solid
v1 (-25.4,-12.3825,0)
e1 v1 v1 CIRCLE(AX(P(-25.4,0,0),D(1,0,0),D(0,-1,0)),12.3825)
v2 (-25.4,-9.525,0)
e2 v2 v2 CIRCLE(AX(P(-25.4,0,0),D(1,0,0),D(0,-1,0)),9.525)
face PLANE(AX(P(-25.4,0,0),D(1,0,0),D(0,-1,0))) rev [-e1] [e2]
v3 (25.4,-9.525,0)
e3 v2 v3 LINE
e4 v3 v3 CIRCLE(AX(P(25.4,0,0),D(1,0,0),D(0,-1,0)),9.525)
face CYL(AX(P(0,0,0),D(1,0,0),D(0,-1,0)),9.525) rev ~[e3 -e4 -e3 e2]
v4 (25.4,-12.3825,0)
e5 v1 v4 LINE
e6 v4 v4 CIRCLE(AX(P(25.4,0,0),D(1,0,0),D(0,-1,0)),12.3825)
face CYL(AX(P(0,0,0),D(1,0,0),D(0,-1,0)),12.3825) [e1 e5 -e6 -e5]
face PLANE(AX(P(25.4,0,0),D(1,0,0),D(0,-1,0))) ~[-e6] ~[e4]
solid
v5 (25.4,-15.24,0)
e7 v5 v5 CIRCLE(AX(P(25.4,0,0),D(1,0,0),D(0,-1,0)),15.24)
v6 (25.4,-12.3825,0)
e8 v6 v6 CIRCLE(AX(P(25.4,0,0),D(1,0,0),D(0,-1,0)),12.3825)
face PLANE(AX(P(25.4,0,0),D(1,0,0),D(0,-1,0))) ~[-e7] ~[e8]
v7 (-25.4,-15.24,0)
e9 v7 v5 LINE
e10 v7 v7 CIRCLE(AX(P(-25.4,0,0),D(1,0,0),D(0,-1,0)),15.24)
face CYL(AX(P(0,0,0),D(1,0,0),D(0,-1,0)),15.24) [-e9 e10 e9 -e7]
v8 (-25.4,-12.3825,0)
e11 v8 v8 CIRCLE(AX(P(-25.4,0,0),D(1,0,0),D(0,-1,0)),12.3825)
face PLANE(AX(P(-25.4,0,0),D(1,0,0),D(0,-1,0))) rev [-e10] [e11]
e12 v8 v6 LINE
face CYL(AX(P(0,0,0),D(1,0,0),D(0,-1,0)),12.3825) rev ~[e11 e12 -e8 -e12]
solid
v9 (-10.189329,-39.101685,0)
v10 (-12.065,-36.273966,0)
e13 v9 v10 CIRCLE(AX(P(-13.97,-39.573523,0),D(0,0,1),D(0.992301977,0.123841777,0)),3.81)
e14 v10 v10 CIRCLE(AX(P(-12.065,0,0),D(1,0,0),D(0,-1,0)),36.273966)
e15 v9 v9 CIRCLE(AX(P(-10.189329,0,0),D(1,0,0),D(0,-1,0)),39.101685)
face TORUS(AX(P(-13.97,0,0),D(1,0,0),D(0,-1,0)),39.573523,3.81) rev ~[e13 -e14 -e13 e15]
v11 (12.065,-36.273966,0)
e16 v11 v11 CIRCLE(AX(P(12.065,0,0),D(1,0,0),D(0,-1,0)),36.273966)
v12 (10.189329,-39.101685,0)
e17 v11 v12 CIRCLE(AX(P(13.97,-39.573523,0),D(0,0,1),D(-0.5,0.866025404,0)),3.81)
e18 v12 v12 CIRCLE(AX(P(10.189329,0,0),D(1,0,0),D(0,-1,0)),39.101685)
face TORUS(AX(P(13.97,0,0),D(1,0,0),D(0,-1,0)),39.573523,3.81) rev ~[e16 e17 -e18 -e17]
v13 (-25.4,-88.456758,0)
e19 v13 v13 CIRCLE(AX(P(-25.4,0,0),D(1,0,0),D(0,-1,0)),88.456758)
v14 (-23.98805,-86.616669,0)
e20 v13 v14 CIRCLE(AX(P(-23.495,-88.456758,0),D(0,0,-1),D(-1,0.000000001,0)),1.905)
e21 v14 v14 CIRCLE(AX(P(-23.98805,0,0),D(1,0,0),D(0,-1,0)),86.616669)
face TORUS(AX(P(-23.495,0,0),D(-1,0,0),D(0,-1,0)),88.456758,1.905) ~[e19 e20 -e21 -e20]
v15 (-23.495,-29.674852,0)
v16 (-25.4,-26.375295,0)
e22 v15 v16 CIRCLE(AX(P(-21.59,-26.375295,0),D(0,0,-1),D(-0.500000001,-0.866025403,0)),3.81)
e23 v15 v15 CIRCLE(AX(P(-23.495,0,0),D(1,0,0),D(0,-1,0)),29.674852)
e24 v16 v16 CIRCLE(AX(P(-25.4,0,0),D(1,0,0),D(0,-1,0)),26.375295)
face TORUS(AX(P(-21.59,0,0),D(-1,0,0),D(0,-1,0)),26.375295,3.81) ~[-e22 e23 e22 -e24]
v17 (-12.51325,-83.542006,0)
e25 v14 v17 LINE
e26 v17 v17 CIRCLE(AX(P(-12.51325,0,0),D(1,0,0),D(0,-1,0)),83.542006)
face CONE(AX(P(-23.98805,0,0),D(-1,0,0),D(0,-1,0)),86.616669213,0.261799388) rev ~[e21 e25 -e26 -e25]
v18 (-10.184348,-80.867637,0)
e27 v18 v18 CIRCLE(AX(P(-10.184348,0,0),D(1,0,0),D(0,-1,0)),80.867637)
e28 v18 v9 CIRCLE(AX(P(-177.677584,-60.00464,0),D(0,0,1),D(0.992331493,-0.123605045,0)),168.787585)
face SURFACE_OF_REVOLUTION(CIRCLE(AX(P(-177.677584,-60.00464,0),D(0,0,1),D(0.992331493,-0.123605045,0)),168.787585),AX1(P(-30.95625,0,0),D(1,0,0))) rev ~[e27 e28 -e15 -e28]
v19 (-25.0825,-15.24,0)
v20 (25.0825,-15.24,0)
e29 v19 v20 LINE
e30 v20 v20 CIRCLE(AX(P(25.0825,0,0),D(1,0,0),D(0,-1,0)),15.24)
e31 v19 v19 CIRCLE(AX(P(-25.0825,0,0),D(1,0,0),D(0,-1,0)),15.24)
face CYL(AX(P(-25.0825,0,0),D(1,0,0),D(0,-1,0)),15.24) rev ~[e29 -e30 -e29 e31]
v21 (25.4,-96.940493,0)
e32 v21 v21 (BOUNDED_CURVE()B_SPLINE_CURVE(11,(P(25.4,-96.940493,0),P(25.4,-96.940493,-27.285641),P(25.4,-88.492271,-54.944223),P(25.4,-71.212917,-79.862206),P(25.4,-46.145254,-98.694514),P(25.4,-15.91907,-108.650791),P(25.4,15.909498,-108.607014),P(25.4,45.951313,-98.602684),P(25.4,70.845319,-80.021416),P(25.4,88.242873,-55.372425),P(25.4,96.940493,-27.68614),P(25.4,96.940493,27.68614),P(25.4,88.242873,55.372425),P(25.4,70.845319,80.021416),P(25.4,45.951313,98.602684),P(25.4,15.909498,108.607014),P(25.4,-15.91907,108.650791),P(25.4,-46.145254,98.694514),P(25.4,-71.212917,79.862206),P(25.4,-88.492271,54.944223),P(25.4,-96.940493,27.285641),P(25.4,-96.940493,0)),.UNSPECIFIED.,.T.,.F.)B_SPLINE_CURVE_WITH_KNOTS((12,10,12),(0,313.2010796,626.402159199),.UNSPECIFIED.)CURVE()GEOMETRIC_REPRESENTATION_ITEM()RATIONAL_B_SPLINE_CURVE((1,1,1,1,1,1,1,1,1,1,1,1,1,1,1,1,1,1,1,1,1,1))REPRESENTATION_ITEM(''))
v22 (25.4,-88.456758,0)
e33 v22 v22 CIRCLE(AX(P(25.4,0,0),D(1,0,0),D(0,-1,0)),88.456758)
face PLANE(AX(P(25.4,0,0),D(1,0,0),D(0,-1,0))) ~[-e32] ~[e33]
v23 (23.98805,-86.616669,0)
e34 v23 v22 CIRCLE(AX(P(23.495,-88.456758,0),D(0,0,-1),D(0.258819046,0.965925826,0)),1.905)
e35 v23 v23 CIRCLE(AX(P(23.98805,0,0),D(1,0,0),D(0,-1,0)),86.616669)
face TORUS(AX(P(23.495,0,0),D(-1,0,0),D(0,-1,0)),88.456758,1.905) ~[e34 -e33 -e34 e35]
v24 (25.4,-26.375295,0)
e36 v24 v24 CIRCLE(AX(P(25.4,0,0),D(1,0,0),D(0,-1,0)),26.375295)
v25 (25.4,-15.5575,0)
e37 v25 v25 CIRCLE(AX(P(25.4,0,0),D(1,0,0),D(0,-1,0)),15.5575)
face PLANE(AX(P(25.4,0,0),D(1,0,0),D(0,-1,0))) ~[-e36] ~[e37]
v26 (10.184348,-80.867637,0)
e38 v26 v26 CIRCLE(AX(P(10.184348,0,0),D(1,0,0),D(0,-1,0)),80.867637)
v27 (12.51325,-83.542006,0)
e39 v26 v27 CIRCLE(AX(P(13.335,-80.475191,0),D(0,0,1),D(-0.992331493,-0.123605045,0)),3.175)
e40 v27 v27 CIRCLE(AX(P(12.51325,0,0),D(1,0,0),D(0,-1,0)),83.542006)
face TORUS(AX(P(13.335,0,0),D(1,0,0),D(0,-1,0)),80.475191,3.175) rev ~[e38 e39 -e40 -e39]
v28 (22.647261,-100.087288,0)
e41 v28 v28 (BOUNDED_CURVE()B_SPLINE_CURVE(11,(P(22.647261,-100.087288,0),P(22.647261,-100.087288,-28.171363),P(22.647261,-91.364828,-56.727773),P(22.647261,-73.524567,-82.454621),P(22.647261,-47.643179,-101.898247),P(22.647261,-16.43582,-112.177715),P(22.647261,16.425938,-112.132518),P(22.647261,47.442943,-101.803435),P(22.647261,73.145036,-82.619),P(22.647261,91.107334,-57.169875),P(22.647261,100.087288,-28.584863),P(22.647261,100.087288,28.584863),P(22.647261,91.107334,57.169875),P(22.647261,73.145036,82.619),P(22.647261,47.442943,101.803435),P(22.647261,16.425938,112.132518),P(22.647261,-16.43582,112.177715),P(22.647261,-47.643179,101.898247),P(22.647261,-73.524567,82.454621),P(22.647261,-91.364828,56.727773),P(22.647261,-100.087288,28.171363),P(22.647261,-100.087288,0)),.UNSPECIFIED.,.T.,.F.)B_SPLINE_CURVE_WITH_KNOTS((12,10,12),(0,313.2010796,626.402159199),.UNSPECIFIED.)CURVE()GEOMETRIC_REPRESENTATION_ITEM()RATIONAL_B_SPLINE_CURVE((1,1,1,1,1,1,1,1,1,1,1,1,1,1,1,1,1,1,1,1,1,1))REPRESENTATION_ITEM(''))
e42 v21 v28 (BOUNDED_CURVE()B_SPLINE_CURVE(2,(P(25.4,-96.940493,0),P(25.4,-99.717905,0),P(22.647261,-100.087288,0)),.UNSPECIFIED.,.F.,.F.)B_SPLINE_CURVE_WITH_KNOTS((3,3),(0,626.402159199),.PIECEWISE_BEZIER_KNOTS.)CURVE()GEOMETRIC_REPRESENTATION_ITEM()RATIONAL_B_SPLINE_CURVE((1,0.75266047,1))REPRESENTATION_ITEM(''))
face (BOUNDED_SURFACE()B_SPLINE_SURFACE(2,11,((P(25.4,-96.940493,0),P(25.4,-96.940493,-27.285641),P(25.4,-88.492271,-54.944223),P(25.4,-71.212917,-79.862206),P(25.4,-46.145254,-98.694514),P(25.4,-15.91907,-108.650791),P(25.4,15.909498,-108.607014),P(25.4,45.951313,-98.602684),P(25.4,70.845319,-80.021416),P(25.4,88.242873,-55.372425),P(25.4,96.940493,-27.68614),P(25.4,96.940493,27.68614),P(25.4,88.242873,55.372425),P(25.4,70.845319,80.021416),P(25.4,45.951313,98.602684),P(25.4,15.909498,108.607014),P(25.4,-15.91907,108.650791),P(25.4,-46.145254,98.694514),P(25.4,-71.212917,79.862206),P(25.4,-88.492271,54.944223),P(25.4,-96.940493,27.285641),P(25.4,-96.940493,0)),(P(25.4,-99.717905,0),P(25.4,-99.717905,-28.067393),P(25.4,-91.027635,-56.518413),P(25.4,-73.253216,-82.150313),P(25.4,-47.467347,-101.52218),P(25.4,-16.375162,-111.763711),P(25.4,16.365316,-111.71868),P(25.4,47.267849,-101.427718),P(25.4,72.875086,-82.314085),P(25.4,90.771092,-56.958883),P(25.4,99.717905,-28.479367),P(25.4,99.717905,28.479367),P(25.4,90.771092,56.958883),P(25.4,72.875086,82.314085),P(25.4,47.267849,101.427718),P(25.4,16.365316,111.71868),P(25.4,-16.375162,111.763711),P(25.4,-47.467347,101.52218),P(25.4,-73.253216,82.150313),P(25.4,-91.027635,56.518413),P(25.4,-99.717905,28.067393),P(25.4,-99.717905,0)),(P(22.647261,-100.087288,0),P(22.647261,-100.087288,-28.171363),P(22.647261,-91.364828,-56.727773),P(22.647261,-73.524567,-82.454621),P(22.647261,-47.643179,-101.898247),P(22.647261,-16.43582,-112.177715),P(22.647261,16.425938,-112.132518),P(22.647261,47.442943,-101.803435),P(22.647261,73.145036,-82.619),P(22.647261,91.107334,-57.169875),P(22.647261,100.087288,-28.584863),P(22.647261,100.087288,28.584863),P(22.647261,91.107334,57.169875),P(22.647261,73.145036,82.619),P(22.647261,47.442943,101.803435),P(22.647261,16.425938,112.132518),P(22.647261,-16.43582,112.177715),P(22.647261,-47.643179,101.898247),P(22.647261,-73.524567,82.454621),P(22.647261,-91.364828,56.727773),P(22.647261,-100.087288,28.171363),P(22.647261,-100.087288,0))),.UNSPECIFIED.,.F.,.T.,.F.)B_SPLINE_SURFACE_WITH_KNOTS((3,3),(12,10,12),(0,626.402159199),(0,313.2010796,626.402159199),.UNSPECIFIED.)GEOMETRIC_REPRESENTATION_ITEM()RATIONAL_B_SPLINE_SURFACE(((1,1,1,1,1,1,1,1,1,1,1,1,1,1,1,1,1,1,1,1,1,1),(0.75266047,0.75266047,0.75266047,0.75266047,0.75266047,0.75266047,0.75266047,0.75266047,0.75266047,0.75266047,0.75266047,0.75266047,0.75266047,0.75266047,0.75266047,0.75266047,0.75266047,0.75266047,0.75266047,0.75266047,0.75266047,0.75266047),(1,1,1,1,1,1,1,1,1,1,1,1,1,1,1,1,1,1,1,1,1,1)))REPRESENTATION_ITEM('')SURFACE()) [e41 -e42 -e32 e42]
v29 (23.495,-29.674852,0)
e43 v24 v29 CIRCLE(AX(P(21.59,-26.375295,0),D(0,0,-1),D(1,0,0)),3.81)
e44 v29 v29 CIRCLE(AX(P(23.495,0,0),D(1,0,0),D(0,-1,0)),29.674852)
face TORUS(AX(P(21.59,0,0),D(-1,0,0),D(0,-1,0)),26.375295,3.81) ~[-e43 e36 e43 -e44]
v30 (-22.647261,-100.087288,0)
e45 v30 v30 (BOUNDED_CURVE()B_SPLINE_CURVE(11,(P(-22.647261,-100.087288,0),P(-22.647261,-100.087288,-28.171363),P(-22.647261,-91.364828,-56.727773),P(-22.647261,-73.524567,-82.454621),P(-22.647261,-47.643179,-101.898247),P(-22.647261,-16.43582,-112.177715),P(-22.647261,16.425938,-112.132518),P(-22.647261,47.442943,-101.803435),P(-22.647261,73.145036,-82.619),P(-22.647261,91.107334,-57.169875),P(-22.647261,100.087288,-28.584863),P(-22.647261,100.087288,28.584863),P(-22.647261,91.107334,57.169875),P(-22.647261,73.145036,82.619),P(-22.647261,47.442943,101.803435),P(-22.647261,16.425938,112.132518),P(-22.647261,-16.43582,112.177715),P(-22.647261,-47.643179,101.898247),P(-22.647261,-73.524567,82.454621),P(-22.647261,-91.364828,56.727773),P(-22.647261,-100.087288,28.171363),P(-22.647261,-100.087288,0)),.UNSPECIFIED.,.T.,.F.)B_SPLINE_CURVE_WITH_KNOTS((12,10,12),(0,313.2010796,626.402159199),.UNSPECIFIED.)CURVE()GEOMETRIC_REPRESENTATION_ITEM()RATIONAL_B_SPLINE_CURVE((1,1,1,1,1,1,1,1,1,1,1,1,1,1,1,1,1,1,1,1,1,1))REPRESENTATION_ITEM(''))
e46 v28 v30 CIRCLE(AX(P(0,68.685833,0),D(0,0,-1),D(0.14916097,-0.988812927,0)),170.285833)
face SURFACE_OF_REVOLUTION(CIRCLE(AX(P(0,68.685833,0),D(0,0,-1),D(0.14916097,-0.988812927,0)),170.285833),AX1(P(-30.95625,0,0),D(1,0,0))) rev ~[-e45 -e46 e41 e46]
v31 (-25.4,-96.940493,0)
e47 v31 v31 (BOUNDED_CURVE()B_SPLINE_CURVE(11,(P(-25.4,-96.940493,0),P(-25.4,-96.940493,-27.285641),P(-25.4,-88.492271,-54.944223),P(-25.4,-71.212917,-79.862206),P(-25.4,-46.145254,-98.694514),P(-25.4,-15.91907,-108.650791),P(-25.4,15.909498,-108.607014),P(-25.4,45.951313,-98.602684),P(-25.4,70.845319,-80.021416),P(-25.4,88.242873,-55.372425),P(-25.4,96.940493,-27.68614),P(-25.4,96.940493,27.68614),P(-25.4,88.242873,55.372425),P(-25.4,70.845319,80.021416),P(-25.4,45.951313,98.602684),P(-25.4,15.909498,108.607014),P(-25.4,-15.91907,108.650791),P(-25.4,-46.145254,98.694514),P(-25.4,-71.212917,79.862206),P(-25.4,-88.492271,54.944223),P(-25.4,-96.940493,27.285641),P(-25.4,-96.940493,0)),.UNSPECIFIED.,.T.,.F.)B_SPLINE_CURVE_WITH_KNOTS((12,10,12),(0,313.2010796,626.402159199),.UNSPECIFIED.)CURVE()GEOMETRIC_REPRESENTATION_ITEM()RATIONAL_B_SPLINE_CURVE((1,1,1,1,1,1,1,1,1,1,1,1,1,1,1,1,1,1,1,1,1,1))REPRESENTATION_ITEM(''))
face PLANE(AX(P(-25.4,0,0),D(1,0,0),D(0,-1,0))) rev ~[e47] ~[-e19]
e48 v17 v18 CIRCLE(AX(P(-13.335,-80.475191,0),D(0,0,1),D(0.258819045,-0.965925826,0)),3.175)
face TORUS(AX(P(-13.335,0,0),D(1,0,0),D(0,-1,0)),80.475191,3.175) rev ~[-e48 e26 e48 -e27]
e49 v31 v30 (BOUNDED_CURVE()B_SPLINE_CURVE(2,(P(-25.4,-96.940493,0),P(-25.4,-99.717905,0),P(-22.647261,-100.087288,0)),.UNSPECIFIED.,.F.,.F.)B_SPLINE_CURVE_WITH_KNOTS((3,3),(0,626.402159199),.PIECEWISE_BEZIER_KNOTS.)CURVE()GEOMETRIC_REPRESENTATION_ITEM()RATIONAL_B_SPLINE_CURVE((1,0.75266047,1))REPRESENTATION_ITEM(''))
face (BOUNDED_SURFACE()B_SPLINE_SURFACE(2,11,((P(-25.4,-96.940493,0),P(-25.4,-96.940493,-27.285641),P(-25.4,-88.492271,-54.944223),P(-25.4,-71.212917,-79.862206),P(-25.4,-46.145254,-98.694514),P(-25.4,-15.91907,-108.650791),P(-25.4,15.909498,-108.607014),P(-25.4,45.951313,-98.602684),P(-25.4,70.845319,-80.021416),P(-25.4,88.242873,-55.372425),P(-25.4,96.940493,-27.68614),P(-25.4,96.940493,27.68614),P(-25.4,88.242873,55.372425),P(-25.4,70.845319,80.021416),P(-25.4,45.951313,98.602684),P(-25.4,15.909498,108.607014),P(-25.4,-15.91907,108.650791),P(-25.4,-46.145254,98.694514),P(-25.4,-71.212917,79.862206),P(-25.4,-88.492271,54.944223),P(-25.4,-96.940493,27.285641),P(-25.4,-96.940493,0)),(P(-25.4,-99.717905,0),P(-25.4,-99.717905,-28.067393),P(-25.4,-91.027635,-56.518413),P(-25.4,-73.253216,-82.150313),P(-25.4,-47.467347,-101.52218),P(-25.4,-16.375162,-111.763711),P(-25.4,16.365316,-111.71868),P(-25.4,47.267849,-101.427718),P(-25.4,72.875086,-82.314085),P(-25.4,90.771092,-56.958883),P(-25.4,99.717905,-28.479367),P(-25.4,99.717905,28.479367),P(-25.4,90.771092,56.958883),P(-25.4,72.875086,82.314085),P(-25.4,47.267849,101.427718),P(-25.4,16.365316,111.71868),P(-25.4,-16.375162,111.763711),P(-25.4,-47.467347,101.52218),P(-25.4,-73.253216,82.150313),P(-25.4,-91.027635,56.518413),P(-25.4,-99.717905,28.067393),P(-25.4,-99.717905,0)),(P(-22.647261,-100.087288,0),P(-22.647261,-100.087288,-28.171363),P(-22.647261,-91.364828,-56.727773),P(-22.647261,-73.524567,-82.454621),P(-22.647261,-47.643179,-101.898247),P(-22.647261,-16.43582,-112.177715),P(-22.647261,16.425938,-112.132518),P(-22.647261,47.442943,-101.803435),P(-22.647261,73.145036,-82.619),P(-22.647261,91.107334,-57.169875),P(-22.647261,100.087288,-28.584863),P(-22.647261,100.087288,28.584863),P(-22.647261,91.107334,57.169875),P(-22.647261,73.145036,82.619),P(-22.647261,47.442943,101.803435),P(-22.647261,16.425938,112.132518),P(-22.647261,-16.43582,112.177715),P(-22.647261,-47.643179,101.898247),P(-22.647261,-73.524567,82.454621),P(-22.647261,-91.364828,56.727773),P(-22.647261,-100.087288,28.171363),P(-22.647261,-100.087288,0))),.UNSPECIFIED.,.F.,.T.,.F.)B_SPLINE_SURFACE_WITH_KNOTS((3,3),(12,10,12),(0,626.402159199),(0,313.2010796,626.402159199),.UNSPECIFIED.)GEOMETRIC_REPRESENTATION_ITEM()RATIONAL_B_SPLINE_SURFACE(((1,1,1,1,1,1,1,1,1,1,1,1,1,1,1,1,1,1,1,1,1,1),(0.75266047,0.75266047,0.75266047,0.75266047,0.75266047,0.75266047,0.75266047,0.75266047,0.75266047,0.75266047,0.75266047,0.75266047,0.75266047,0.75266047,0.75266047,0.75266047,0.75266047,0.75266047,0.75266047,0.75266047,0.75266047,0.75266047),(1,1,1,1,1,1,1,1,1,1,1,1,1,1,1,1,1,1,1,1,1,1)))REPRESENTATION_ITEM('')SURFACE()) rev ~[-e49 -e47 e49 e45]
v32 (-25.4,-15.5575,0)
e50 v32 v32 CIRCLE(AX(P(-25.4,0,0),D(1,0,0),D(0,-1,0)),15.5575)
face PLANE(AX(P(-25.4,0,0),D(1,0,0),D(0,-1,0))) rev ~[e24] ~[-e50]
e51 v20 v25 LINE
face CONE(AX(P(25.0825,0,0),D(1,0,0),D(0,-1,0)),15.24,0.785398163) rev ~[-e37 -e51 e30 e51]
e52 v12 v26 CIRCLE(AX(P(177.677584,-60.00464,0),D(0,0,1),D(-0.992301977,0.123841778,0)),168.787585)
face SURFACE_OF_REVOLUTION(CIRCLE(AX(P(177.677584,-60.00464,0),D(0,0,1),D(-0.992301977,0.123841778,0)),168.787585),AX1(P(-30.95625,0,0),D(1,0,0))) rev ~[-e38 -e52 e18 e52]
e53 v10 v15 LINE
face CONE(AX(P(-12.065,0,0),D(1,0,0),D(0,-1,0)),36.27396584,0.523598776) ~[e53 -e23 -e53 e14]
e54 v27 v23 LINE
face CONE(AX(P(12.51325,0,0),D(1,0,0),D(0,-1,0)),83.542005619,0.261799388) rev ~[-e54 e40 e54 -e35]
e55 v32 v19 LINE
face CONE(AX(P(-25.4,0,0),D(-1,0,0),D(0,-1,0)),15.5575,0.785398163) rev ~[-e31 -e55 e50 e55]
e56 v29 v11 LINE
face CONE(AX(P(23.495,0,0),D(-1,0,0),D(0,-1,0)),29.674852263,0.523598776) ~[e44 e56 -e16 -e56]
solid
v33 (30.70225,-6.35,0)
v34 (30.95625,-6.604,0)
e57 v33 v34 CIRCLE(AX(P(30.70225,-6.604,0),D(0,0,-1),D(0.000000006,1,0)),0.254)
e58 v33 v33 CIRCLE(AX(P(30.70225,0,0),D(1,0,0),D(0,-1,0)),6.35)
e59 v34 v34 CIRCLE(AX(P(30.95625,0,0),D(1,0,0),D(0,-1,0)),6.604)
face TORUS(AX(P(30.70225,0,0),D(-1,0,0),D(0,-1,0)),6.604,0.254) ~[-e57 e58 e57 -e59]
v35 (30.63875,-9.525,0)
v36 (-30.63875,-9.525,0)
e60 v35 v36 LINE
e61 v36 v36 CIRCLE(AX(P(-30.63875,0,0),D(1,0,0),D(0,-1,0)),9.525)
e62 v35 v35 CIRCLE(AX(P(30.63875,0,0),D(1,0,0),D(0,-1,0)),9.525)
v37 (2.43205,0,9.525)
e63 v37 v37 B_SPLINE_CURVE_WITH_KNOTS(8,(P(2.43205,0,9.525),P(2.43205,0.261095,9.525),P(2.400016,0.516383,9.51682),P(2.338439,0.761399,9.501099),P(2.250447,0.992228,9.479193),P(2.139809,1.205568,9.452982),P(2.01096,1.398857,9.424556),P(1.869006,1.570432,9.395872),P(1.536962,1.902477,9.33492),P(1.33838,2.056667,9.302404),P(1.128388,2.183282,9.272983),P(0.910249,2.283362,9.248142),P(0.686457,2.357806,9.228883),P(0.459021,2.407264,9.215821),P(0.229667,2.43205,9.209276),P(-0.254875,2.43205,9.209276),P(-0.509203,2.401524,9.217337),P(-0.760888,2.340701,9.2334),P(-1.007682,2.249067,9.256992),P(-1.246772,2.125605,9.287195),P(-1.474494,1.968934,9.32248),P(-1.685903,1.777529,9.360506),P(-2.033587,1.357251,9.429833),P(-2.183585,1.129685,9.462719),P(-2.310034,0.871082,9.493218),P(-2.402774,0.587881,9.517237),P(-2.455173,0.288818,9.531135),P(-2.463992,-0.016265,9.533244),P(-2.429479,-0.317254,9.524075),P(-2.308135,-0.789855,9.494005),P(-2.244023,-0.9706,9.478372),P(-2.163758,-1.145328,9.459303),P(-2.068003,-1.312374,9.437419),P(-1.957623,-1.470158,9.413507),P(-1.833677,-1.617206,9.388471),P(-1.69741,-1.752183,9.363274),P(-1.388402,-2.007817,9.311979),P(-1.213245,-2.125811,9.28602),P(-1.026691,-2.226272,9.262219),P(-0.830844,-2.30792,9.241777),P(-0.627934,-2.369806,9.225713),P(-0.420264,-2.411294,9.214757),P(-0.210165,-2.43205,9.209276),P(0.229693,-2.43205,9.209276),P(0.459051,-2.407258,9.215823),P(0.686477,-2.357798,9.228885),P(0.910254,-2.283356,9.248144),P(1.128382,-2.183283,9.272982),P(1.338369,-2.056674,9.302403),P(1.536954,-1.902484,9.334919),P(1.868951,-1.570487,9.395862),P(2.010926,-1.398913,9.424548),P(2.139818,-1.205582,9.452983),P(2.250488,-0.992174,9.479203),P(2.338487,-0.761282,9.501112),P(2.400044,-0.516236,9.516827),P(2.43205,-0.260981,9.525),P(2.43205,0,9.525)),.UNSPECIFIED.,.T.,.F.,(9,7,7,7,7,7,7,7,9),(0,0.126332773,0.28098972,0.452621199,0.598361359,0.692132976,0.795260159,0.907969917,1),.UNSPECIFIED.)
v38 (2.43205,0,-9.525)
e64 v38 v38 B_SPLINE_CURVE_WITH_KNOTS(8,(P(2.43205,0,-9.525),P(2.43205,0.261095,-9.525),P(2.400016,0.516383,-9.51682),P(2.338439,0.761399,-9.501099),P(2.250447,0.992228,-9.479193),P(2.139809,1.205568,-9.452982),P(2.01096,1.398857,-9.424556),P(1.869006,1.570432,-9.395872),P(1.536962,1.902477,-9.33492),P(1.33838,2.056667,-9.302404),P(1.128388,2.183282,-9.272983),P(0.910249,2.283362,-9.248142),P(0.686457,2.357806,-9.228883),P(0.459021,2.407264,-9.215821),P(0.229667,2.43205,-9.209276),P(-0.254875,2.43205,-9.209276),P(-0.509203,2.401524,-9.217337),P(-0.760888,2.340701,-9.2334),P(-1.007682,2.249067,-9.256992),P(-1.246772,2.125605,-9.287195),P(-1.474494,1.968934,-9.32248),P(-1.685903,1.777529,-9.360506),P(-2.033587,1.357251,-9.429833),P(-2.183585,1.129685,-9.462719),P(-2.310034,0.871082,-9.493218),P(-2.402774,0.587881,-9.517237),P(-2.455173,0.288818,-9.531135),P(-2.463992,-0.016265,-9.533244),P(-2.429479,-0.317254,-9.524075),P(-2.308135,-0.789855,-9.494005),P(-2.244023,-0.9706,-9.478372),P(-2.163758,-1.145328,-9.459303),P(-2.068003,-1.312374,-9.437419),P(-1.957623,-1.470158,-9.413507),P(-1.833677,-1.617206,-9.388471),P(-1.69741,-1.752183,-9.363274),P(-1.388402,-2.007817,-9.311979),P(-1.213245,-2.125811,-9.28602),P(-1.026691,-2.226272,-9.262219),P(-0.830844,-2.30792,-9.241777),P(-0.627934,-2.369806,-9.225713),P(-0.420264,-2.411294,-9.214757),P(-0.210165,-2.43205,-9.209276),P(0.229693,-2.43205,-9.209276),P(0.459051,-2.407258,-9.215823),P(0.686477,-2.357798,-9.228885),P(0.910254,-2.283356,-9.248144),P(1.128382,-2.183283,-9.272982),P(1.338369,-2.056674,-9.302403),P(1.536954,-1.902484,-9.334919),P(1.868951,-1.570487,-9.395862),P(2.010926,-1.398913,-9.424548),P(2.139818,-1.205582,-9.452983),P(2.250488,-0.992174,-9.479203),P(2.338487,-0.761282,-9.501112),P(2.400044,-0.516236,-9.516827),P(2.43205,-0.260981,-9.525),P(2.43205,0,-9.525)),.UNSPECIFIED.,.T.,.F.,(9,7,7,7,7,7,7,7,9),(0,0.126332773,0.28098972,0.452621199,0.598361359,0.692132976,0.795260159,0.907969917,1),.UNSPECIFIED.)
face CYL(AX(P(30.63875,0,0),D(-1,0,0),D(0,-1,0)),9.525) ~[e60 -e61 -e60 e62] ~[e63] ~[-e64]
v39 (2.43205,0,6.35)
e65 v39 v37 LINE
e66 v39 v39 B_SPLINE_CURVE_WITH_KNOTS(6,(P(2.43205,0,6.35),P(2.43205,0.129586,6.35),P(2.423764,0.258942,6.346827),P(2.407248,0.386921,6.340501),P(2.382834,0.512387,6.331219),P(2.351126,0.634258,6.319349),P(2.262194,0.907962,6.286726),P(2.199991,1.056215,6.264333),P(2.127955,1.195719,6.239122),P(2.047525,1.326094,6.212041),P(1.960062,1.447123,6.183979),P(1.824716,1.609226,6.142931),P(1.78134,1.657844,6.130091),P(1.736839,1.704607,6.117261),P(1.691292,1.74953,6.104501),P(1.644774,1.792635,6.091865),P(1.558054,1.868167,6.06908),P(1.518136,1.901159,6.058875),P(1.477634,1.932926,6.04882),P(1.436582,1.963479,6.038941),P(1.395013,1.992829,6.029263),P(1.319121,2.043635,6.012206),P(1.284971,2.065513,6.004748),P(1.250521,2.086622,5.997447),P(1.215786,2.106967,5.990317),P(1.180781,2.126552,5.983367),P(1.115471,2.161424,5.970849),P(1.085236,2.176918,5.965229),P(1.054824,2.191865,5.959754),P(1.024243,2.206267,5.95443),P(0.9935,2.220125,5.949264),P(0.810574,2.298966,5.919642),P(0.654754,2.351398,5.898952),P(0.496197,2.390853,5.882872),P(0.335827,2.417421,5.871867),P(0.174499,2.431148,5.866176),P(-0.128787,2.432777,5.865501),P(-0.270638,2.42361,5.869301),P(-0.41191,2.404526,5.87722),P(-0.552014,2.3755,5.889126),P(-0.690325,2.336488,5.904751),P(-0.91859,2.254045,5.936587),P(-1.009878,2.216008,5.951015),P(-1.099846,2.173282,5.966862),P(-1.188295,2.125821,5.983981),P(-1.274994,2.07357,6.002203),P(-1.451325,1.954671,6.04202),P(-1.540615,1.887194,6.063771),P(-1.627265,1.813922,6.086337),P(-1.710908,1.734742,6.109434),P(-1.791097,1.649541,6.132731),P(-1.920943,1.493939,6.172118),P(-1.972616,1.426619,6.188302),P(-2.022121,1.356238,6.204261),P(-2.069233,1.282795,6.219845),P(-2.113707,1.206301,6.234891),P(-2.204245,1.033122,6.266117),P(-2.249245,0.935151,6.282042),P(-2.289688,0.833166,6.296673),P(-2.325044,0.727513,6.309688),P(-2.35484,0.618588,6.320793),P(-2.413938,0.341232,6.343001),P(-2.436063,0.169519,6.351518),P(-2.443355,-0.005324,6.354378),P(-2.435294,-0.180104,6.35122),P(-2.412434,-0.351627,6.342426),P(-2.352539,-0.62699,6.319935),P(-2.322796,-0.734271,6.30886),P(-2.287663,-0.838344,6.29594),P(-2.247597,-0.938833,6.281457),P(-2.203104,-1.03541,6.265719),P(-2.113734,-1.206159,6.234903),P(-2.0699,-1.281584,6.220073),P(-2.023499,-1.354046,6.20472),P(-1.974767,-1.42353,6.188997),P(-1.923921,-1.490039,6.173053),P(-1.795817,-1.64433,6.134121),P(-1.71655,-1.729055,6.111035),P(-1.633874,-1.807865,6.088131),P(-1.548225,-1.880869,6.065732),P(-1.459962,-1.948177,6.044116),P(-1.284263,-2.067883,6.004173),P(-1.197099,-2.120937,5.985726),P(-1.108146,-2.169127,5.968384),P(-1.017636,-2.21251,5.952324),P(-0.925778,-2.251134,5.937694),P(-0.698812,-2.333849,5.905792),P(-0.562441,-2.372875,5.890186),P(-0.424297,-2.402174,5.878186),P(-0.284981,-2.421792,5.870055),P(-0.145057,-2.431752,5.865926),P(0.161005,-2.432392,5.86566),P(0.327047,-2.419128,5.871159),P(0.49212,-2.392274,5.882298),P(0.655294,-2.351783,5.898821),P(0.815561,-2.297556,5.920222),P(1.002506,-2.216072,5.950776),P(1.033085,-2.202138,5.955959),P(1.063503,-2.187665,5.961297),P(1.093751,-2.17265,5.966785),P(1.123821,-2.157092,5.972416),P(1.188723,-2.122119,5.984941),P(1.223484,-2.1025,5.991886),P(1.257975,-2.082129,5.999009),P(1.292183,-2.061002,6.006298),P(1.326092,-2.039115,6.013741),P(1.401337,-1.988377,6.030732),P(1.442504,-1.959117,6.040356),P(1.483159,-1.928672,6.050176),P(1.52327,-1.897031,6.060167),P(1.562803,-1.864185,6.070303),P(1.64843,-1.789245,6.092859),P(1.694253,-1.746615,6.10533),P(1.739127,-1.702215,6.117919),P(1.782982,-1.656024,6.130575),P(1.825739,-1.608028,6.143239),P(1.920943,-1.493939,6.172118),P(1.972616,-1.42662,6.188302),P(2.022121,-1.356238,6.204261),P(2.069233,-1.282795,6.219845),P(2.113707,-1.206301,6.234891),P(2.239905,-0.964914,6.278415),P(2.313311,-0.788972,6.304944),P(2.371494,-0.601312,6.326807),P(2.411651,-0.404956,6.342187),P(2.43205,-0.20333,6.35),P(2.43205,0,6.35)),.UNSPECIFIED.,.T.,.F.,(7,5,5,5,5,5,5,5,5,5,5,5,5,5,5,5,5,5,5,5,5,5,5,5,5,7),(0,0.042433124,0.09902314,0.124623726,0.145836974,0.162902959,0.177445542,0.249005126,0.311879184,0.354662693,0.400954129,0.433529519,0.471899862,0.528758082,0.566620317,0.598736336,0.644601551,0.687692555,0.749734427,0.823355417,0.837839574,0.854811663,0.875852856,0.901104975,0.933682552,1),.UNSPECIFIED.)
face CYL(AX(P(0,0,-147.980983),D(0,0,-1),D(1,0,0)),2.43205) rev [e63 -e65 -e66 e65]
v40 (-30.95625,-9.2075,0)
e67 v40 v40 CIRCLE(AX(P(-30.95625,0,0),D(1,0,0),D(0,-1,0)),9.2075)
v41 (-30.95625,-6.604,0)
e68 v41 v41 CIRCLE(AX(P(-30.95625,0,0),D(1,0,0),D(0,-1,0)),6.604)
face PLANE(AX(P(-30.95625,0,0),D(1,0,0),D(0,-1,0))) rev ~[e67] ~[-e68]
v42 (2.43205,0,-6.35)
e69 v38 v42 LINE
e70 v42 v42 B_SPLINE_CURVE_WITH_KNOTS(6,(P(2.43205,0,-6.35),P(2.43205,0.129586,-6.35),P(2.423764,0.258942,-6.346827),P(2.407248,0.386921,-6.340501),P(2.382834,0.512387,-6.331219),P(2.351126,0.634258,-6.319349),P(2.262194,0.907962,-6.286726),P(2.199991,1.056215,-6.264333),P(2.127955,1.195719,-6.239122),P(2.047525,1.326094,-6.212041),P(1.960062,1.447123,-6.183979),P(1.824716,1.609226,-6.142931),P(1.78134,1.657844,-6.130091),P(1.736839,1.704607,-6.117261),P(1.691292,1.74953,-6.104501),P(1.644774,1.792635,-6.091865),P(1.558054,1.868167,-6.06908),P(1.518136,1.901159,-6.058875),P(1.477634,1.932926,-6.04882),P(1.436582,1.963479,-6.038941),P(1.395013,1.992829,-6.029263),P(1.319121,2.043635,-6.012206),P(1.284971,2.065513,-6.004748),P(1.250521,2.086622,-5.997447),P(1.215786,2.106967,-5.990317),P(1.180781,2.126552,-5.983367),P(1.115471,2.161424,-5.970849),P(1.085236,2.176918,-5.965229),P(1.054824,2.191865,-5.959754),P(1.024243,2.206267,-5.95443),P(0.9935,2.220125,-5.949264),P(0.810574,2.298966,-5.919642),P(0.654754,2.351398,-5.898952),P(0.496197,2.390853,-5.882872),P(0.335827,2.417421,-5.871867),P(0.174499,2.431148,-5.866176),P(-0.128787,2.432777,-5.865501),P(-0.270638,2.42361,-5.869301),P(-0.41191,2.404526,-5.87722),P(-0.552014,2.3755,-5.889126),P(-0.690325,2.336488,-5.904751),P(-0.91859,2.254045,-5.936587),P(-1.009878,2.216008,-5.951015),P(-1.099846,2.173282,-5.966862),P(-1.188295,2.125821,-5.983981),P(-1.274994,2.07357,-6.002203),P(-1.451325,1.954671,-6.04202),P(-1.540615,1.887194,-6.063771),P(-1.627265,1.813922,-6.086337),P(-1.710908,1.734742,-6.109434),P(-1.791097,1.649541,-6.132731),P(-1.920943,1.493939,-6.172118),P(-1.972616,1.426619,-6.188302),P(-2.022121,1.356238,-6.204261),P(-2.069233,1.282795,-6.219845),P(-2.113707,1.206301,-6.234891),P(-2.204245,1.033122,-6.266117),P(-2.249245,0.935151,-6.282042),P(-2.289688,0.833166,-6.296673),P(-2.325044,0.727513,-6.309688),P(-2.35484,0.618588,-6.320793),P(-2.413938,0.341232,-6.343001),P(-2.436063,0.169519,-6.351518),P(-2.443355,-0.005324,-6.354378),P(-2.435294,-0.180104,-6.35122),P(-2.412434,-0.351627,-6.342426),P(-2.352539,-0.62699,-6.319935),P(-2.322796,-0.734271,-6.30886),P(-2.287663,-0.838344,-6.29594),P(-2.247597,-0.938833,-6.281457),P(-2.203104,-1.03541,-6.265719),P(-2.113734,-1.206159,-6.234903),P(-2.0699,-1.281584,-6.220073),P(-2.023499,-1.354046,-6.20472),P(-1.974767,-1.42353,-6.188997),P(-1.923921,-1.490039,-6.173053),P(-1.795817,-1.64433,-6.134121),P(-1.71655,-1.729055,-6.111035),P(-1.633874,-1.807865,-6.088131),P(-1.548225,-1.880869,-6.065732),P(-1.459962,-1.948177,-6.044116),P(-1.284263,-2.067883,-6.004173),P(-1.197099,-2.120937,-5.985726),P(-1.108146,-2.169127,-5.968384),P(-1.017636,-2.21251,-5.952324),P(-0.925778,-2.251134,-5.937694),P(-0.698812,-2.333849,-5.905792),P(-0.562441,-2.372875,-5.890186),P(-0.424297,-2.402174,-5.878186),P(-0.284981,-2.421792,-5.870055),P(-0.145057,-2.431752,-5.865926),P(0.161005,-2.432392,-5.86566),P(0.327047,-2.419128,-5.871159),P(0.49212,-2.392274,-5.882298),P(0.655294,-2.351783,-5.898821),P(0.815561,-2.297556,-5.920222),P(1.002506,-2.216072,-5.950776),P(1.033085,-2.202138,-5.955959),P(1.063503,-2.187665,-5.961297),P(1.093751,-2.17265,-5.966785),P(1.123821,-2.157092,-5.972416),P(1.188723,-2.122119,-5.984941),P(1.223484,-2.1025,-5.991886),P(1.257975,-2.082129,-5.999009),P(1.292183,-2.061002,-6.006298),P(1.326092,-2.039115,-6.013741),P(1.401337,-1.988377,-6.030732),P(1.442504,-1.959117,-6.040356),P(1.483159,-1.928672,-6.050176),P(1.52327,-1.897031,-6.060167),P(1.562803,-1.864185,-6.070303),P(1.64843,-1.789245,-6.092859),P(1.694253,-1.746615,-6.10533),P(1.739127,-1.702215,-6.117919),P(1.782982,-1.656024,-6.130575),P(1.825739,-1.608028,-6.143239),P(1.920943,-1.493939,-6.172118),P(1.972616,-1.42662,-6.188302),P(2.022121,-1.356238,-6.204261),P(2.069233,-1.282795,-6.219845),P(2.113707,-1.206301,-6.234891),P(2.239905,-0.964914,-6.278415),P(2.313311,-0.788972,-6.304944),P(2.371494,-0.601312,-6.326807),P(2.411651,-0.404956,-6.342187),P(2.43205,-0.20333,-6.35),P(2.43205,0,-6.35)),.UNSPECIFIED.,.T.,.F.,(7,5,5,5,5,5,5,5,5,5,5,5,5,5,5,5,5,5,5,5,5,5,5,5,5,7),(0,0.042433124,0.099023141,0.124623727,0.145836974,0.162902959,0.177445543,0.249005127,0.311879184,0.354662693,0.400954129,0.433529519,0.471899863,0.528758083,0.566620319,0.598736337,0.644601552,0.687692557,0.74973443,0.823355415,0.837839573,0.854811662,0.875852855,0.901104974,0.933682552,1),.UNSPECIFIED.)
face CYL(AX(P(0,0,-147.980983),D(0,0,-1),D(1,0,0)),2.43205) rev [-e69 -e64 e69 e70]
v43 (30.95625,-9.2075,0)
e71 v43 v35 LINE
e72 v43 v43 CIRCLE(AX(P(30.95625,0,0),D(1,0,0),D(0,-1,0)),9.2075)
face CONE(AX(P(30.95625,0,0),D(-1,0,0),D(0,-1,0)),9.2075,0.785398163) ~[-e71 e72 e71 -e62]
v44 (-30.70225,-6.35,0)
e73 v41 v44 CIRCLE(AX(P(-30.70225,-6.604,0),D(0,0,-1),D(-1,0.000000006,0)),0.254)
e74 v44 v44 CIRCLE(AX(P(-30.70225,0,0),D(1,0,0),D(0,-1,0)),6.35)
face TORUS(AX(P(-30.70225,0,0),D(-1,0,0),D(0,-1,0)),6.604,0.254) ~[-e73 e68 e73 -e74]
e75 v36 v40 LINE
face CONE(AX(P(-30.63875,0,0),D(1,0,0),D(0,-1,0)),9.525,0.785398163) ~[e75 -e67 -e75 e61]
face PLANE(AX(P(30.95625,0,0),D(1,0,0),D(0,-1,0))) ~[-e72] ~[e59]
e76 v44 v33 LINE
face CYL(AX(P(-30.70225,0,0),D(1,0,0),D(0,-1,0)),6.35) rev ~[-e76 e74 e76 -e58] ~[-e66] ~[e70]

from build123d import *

# Parameters (mm, degrees)
SKETCH4_W               = 50.8
SKETCH4_H               = 2.8575
SKETCH7_W               = 50.8
SKETCH7_H               = 2.8575
CUT_EXTRUDE1_DEPTH      = 147.98098331
CUT_EXTRUDE1_DEPTH_BACK = 147.98098331
SKETCH9_R               = 2.43205
FILLET1_R               = 3.175


with BuildPart() as part:
    # Sketch3 → Revolve1 (revolve)
    with BuildSketch(Plane.XY, mode=Mode.PRIVATE) as revolve1_sk:
        with BuildLine():
            Line((-25.4, 99.695), (-25.4, 88.456757912))
            ThreePointArc((-25.4, 88.456757912), (-25.006338113, 87.29706739), (-23.988050281, 86.616669213))
            Line((-23.988050281, 86.616669213), (-12.513249532, 83.542005619))
            ThreePointArc((-12.513249532, 83.542005619), (-10.940619493, 82.560273131), (-10.184347508, 80.867637139))
            ThreePointArc((-10.184347508, 80.867637139), (-8.89, 59.984506606), (-10.189329467, 39.101685455))
            ThreePointArc((-10.189329467, 39.101685455), (-10.794986314, 37.467486519), (-12.065, 36.27396584))
            Line((-12.065, 36.27396584), (-23.495, 29.674852263))
            ThreePointArc((-23.495, 29.674852263), (-24.889556788, 28.280295474), (-25.4, 26.375295474))
            Line((-25.4, 26.375295474), (-25.4, 15.5575))
            Line((-25.4, 15.5575), (-25.0825, 15.24))
            Line((-25.0825, 15.24), (25.0825, 15.24))
            Line((25.0825, 15.24), (25.4, 15.5575))
            Line((25.4, 15.5575), (25.4, 26.375295474))
            ThreePointArc((25.4, 26.375295474), (24.889556788, 28.280295474), (23.495, 29.674852263))
            Line((23.495, 29.674852263), (12.065, 36.27396584))
            ThreePointArc((12.065, 36.27396584), (10.794986314, 37.467486519), (10.189329467, 39.101685455))
            ThreePointArc((10.189329467, 39.101685455), (8.89, 59.984506606), (10.184347508, 80.867637139))
            ThreePointArc((10.184347508, 80.867637139), (10.940619493, 82.560273131), (12.513249532, 83.542005619))
            Line((12.513249532, 83.542005619), (23.988050281, 86.616669213))
            ThreePointArc((23.988050281, 86.616669213), (25.006338113, 87.29706739), (25.4, 88.456757912))
            Line((25.4, 88.456757912), (25.4, 99.695))
            ThreePointArc((25.4, 99.695), (0, 101.6), (-25.4, 99.695))
        make_face()
    revolve(revolve1_sk.sketch.rotate(Axis((-30.95625, 0, 0), (1, 0, 0)), 180), axis=Axis((-30.95625, 0, 0), (1, 0, 0)))

    # Fillet1
    fillet1_edges = [part.edges().sort_by_distance(p)[0] for p in [
        (25.4, 99.695, 0),
        (-25.4, 99.695, 0),
    ]]
    fillet(fillet1_edges, radius=FILLET1_R)


with BuildPart() as body_2:
    # Sketch4 → Revolve2 (revolve)
    with BuildSketch(Plane.XY, mode=Mode.PRIVATE) as revolve2_sk:
        with Locations((0, 13.81125)):
            Rectangle(SKETCH4_W, SKETCH4_H)
    revolve(revolve2_sk.sketch.rotate(Axis((-30.95625, 0, 0), (1, 0, 0)), 180), axis=Axis((-30.95625, 0, 0), (1, 0, 0)))


with BuildPart() as body_3:
    # Sketch7 → Revolve3 (revolve)
    with BuildSketch(Plane.XY, mode=Mode.PRIVATE) as revolve3_sk:
        with Locations((0, 10.95375)):
            Rectangle(SKETCH7_W, SKETCH7_H)
    revolve(revolve3_sk.sketch.rotate(Axis((-30.95625, 0, 0), (1, 0, 0)), 180), axis=Axis((-30.95625, 0, 0), (1, 0, 0)))


with BuildPart() as body_4:
    # Sketch8 → Revolve4 (revolve)
    with BuildSketch(Plane.XY, mode=Mode.PRIVATE) as revolve4_sk:
        with BuildLine():
            Line((30.95625, 6.604), (30.95625, 9.2075))
            Line((30.95625, 9.2075), (30.63875, 9.525))
            Line((30.63875, 9.525), (-30.63875, 9.525))
            Line((-30.63875, 9.525), (-30.95625, 9.2075))
            Line((-30.95625, 9.2075), (-30.95625, 6.604))
            ThreePointArc((-30.95625, 6.604), (-30.881855122, 6.424394878), (-30.70225, 6.35))
            Line((-30.70225, 6.35), (30.70225, 6.35))
            ThreePointArc((30.70225, 6.35), (30.881855122, 6.424394878), (30.95625, 6.604))
        make_face()
    revolve(revolve4_sk.sketch.rotate(Axis((-30.95625, 0, 0), (1, 0, 0)), 180), axis=Axis((-30.95625, 0, 0), (1, 0, 0)))

    # Sketch9 → Cut-Extrude1 (cut, two sides: drawn at the far end of the back side and taken through both)
    with BuildSketch(Plane.XY.offset(-CUT_EXTRUDE1_DEPTH_BACK)):
        Circle(SKETCH9_R)
    extrude(amount=CUT_EXTRUDE1_DEPTH + CUT_EXTRUDE1_DEPTH_BACK, mode=Mode.SUBTRACT)


solid = Compound([part.part, body_2.part, body_3.part, body_4.part])
